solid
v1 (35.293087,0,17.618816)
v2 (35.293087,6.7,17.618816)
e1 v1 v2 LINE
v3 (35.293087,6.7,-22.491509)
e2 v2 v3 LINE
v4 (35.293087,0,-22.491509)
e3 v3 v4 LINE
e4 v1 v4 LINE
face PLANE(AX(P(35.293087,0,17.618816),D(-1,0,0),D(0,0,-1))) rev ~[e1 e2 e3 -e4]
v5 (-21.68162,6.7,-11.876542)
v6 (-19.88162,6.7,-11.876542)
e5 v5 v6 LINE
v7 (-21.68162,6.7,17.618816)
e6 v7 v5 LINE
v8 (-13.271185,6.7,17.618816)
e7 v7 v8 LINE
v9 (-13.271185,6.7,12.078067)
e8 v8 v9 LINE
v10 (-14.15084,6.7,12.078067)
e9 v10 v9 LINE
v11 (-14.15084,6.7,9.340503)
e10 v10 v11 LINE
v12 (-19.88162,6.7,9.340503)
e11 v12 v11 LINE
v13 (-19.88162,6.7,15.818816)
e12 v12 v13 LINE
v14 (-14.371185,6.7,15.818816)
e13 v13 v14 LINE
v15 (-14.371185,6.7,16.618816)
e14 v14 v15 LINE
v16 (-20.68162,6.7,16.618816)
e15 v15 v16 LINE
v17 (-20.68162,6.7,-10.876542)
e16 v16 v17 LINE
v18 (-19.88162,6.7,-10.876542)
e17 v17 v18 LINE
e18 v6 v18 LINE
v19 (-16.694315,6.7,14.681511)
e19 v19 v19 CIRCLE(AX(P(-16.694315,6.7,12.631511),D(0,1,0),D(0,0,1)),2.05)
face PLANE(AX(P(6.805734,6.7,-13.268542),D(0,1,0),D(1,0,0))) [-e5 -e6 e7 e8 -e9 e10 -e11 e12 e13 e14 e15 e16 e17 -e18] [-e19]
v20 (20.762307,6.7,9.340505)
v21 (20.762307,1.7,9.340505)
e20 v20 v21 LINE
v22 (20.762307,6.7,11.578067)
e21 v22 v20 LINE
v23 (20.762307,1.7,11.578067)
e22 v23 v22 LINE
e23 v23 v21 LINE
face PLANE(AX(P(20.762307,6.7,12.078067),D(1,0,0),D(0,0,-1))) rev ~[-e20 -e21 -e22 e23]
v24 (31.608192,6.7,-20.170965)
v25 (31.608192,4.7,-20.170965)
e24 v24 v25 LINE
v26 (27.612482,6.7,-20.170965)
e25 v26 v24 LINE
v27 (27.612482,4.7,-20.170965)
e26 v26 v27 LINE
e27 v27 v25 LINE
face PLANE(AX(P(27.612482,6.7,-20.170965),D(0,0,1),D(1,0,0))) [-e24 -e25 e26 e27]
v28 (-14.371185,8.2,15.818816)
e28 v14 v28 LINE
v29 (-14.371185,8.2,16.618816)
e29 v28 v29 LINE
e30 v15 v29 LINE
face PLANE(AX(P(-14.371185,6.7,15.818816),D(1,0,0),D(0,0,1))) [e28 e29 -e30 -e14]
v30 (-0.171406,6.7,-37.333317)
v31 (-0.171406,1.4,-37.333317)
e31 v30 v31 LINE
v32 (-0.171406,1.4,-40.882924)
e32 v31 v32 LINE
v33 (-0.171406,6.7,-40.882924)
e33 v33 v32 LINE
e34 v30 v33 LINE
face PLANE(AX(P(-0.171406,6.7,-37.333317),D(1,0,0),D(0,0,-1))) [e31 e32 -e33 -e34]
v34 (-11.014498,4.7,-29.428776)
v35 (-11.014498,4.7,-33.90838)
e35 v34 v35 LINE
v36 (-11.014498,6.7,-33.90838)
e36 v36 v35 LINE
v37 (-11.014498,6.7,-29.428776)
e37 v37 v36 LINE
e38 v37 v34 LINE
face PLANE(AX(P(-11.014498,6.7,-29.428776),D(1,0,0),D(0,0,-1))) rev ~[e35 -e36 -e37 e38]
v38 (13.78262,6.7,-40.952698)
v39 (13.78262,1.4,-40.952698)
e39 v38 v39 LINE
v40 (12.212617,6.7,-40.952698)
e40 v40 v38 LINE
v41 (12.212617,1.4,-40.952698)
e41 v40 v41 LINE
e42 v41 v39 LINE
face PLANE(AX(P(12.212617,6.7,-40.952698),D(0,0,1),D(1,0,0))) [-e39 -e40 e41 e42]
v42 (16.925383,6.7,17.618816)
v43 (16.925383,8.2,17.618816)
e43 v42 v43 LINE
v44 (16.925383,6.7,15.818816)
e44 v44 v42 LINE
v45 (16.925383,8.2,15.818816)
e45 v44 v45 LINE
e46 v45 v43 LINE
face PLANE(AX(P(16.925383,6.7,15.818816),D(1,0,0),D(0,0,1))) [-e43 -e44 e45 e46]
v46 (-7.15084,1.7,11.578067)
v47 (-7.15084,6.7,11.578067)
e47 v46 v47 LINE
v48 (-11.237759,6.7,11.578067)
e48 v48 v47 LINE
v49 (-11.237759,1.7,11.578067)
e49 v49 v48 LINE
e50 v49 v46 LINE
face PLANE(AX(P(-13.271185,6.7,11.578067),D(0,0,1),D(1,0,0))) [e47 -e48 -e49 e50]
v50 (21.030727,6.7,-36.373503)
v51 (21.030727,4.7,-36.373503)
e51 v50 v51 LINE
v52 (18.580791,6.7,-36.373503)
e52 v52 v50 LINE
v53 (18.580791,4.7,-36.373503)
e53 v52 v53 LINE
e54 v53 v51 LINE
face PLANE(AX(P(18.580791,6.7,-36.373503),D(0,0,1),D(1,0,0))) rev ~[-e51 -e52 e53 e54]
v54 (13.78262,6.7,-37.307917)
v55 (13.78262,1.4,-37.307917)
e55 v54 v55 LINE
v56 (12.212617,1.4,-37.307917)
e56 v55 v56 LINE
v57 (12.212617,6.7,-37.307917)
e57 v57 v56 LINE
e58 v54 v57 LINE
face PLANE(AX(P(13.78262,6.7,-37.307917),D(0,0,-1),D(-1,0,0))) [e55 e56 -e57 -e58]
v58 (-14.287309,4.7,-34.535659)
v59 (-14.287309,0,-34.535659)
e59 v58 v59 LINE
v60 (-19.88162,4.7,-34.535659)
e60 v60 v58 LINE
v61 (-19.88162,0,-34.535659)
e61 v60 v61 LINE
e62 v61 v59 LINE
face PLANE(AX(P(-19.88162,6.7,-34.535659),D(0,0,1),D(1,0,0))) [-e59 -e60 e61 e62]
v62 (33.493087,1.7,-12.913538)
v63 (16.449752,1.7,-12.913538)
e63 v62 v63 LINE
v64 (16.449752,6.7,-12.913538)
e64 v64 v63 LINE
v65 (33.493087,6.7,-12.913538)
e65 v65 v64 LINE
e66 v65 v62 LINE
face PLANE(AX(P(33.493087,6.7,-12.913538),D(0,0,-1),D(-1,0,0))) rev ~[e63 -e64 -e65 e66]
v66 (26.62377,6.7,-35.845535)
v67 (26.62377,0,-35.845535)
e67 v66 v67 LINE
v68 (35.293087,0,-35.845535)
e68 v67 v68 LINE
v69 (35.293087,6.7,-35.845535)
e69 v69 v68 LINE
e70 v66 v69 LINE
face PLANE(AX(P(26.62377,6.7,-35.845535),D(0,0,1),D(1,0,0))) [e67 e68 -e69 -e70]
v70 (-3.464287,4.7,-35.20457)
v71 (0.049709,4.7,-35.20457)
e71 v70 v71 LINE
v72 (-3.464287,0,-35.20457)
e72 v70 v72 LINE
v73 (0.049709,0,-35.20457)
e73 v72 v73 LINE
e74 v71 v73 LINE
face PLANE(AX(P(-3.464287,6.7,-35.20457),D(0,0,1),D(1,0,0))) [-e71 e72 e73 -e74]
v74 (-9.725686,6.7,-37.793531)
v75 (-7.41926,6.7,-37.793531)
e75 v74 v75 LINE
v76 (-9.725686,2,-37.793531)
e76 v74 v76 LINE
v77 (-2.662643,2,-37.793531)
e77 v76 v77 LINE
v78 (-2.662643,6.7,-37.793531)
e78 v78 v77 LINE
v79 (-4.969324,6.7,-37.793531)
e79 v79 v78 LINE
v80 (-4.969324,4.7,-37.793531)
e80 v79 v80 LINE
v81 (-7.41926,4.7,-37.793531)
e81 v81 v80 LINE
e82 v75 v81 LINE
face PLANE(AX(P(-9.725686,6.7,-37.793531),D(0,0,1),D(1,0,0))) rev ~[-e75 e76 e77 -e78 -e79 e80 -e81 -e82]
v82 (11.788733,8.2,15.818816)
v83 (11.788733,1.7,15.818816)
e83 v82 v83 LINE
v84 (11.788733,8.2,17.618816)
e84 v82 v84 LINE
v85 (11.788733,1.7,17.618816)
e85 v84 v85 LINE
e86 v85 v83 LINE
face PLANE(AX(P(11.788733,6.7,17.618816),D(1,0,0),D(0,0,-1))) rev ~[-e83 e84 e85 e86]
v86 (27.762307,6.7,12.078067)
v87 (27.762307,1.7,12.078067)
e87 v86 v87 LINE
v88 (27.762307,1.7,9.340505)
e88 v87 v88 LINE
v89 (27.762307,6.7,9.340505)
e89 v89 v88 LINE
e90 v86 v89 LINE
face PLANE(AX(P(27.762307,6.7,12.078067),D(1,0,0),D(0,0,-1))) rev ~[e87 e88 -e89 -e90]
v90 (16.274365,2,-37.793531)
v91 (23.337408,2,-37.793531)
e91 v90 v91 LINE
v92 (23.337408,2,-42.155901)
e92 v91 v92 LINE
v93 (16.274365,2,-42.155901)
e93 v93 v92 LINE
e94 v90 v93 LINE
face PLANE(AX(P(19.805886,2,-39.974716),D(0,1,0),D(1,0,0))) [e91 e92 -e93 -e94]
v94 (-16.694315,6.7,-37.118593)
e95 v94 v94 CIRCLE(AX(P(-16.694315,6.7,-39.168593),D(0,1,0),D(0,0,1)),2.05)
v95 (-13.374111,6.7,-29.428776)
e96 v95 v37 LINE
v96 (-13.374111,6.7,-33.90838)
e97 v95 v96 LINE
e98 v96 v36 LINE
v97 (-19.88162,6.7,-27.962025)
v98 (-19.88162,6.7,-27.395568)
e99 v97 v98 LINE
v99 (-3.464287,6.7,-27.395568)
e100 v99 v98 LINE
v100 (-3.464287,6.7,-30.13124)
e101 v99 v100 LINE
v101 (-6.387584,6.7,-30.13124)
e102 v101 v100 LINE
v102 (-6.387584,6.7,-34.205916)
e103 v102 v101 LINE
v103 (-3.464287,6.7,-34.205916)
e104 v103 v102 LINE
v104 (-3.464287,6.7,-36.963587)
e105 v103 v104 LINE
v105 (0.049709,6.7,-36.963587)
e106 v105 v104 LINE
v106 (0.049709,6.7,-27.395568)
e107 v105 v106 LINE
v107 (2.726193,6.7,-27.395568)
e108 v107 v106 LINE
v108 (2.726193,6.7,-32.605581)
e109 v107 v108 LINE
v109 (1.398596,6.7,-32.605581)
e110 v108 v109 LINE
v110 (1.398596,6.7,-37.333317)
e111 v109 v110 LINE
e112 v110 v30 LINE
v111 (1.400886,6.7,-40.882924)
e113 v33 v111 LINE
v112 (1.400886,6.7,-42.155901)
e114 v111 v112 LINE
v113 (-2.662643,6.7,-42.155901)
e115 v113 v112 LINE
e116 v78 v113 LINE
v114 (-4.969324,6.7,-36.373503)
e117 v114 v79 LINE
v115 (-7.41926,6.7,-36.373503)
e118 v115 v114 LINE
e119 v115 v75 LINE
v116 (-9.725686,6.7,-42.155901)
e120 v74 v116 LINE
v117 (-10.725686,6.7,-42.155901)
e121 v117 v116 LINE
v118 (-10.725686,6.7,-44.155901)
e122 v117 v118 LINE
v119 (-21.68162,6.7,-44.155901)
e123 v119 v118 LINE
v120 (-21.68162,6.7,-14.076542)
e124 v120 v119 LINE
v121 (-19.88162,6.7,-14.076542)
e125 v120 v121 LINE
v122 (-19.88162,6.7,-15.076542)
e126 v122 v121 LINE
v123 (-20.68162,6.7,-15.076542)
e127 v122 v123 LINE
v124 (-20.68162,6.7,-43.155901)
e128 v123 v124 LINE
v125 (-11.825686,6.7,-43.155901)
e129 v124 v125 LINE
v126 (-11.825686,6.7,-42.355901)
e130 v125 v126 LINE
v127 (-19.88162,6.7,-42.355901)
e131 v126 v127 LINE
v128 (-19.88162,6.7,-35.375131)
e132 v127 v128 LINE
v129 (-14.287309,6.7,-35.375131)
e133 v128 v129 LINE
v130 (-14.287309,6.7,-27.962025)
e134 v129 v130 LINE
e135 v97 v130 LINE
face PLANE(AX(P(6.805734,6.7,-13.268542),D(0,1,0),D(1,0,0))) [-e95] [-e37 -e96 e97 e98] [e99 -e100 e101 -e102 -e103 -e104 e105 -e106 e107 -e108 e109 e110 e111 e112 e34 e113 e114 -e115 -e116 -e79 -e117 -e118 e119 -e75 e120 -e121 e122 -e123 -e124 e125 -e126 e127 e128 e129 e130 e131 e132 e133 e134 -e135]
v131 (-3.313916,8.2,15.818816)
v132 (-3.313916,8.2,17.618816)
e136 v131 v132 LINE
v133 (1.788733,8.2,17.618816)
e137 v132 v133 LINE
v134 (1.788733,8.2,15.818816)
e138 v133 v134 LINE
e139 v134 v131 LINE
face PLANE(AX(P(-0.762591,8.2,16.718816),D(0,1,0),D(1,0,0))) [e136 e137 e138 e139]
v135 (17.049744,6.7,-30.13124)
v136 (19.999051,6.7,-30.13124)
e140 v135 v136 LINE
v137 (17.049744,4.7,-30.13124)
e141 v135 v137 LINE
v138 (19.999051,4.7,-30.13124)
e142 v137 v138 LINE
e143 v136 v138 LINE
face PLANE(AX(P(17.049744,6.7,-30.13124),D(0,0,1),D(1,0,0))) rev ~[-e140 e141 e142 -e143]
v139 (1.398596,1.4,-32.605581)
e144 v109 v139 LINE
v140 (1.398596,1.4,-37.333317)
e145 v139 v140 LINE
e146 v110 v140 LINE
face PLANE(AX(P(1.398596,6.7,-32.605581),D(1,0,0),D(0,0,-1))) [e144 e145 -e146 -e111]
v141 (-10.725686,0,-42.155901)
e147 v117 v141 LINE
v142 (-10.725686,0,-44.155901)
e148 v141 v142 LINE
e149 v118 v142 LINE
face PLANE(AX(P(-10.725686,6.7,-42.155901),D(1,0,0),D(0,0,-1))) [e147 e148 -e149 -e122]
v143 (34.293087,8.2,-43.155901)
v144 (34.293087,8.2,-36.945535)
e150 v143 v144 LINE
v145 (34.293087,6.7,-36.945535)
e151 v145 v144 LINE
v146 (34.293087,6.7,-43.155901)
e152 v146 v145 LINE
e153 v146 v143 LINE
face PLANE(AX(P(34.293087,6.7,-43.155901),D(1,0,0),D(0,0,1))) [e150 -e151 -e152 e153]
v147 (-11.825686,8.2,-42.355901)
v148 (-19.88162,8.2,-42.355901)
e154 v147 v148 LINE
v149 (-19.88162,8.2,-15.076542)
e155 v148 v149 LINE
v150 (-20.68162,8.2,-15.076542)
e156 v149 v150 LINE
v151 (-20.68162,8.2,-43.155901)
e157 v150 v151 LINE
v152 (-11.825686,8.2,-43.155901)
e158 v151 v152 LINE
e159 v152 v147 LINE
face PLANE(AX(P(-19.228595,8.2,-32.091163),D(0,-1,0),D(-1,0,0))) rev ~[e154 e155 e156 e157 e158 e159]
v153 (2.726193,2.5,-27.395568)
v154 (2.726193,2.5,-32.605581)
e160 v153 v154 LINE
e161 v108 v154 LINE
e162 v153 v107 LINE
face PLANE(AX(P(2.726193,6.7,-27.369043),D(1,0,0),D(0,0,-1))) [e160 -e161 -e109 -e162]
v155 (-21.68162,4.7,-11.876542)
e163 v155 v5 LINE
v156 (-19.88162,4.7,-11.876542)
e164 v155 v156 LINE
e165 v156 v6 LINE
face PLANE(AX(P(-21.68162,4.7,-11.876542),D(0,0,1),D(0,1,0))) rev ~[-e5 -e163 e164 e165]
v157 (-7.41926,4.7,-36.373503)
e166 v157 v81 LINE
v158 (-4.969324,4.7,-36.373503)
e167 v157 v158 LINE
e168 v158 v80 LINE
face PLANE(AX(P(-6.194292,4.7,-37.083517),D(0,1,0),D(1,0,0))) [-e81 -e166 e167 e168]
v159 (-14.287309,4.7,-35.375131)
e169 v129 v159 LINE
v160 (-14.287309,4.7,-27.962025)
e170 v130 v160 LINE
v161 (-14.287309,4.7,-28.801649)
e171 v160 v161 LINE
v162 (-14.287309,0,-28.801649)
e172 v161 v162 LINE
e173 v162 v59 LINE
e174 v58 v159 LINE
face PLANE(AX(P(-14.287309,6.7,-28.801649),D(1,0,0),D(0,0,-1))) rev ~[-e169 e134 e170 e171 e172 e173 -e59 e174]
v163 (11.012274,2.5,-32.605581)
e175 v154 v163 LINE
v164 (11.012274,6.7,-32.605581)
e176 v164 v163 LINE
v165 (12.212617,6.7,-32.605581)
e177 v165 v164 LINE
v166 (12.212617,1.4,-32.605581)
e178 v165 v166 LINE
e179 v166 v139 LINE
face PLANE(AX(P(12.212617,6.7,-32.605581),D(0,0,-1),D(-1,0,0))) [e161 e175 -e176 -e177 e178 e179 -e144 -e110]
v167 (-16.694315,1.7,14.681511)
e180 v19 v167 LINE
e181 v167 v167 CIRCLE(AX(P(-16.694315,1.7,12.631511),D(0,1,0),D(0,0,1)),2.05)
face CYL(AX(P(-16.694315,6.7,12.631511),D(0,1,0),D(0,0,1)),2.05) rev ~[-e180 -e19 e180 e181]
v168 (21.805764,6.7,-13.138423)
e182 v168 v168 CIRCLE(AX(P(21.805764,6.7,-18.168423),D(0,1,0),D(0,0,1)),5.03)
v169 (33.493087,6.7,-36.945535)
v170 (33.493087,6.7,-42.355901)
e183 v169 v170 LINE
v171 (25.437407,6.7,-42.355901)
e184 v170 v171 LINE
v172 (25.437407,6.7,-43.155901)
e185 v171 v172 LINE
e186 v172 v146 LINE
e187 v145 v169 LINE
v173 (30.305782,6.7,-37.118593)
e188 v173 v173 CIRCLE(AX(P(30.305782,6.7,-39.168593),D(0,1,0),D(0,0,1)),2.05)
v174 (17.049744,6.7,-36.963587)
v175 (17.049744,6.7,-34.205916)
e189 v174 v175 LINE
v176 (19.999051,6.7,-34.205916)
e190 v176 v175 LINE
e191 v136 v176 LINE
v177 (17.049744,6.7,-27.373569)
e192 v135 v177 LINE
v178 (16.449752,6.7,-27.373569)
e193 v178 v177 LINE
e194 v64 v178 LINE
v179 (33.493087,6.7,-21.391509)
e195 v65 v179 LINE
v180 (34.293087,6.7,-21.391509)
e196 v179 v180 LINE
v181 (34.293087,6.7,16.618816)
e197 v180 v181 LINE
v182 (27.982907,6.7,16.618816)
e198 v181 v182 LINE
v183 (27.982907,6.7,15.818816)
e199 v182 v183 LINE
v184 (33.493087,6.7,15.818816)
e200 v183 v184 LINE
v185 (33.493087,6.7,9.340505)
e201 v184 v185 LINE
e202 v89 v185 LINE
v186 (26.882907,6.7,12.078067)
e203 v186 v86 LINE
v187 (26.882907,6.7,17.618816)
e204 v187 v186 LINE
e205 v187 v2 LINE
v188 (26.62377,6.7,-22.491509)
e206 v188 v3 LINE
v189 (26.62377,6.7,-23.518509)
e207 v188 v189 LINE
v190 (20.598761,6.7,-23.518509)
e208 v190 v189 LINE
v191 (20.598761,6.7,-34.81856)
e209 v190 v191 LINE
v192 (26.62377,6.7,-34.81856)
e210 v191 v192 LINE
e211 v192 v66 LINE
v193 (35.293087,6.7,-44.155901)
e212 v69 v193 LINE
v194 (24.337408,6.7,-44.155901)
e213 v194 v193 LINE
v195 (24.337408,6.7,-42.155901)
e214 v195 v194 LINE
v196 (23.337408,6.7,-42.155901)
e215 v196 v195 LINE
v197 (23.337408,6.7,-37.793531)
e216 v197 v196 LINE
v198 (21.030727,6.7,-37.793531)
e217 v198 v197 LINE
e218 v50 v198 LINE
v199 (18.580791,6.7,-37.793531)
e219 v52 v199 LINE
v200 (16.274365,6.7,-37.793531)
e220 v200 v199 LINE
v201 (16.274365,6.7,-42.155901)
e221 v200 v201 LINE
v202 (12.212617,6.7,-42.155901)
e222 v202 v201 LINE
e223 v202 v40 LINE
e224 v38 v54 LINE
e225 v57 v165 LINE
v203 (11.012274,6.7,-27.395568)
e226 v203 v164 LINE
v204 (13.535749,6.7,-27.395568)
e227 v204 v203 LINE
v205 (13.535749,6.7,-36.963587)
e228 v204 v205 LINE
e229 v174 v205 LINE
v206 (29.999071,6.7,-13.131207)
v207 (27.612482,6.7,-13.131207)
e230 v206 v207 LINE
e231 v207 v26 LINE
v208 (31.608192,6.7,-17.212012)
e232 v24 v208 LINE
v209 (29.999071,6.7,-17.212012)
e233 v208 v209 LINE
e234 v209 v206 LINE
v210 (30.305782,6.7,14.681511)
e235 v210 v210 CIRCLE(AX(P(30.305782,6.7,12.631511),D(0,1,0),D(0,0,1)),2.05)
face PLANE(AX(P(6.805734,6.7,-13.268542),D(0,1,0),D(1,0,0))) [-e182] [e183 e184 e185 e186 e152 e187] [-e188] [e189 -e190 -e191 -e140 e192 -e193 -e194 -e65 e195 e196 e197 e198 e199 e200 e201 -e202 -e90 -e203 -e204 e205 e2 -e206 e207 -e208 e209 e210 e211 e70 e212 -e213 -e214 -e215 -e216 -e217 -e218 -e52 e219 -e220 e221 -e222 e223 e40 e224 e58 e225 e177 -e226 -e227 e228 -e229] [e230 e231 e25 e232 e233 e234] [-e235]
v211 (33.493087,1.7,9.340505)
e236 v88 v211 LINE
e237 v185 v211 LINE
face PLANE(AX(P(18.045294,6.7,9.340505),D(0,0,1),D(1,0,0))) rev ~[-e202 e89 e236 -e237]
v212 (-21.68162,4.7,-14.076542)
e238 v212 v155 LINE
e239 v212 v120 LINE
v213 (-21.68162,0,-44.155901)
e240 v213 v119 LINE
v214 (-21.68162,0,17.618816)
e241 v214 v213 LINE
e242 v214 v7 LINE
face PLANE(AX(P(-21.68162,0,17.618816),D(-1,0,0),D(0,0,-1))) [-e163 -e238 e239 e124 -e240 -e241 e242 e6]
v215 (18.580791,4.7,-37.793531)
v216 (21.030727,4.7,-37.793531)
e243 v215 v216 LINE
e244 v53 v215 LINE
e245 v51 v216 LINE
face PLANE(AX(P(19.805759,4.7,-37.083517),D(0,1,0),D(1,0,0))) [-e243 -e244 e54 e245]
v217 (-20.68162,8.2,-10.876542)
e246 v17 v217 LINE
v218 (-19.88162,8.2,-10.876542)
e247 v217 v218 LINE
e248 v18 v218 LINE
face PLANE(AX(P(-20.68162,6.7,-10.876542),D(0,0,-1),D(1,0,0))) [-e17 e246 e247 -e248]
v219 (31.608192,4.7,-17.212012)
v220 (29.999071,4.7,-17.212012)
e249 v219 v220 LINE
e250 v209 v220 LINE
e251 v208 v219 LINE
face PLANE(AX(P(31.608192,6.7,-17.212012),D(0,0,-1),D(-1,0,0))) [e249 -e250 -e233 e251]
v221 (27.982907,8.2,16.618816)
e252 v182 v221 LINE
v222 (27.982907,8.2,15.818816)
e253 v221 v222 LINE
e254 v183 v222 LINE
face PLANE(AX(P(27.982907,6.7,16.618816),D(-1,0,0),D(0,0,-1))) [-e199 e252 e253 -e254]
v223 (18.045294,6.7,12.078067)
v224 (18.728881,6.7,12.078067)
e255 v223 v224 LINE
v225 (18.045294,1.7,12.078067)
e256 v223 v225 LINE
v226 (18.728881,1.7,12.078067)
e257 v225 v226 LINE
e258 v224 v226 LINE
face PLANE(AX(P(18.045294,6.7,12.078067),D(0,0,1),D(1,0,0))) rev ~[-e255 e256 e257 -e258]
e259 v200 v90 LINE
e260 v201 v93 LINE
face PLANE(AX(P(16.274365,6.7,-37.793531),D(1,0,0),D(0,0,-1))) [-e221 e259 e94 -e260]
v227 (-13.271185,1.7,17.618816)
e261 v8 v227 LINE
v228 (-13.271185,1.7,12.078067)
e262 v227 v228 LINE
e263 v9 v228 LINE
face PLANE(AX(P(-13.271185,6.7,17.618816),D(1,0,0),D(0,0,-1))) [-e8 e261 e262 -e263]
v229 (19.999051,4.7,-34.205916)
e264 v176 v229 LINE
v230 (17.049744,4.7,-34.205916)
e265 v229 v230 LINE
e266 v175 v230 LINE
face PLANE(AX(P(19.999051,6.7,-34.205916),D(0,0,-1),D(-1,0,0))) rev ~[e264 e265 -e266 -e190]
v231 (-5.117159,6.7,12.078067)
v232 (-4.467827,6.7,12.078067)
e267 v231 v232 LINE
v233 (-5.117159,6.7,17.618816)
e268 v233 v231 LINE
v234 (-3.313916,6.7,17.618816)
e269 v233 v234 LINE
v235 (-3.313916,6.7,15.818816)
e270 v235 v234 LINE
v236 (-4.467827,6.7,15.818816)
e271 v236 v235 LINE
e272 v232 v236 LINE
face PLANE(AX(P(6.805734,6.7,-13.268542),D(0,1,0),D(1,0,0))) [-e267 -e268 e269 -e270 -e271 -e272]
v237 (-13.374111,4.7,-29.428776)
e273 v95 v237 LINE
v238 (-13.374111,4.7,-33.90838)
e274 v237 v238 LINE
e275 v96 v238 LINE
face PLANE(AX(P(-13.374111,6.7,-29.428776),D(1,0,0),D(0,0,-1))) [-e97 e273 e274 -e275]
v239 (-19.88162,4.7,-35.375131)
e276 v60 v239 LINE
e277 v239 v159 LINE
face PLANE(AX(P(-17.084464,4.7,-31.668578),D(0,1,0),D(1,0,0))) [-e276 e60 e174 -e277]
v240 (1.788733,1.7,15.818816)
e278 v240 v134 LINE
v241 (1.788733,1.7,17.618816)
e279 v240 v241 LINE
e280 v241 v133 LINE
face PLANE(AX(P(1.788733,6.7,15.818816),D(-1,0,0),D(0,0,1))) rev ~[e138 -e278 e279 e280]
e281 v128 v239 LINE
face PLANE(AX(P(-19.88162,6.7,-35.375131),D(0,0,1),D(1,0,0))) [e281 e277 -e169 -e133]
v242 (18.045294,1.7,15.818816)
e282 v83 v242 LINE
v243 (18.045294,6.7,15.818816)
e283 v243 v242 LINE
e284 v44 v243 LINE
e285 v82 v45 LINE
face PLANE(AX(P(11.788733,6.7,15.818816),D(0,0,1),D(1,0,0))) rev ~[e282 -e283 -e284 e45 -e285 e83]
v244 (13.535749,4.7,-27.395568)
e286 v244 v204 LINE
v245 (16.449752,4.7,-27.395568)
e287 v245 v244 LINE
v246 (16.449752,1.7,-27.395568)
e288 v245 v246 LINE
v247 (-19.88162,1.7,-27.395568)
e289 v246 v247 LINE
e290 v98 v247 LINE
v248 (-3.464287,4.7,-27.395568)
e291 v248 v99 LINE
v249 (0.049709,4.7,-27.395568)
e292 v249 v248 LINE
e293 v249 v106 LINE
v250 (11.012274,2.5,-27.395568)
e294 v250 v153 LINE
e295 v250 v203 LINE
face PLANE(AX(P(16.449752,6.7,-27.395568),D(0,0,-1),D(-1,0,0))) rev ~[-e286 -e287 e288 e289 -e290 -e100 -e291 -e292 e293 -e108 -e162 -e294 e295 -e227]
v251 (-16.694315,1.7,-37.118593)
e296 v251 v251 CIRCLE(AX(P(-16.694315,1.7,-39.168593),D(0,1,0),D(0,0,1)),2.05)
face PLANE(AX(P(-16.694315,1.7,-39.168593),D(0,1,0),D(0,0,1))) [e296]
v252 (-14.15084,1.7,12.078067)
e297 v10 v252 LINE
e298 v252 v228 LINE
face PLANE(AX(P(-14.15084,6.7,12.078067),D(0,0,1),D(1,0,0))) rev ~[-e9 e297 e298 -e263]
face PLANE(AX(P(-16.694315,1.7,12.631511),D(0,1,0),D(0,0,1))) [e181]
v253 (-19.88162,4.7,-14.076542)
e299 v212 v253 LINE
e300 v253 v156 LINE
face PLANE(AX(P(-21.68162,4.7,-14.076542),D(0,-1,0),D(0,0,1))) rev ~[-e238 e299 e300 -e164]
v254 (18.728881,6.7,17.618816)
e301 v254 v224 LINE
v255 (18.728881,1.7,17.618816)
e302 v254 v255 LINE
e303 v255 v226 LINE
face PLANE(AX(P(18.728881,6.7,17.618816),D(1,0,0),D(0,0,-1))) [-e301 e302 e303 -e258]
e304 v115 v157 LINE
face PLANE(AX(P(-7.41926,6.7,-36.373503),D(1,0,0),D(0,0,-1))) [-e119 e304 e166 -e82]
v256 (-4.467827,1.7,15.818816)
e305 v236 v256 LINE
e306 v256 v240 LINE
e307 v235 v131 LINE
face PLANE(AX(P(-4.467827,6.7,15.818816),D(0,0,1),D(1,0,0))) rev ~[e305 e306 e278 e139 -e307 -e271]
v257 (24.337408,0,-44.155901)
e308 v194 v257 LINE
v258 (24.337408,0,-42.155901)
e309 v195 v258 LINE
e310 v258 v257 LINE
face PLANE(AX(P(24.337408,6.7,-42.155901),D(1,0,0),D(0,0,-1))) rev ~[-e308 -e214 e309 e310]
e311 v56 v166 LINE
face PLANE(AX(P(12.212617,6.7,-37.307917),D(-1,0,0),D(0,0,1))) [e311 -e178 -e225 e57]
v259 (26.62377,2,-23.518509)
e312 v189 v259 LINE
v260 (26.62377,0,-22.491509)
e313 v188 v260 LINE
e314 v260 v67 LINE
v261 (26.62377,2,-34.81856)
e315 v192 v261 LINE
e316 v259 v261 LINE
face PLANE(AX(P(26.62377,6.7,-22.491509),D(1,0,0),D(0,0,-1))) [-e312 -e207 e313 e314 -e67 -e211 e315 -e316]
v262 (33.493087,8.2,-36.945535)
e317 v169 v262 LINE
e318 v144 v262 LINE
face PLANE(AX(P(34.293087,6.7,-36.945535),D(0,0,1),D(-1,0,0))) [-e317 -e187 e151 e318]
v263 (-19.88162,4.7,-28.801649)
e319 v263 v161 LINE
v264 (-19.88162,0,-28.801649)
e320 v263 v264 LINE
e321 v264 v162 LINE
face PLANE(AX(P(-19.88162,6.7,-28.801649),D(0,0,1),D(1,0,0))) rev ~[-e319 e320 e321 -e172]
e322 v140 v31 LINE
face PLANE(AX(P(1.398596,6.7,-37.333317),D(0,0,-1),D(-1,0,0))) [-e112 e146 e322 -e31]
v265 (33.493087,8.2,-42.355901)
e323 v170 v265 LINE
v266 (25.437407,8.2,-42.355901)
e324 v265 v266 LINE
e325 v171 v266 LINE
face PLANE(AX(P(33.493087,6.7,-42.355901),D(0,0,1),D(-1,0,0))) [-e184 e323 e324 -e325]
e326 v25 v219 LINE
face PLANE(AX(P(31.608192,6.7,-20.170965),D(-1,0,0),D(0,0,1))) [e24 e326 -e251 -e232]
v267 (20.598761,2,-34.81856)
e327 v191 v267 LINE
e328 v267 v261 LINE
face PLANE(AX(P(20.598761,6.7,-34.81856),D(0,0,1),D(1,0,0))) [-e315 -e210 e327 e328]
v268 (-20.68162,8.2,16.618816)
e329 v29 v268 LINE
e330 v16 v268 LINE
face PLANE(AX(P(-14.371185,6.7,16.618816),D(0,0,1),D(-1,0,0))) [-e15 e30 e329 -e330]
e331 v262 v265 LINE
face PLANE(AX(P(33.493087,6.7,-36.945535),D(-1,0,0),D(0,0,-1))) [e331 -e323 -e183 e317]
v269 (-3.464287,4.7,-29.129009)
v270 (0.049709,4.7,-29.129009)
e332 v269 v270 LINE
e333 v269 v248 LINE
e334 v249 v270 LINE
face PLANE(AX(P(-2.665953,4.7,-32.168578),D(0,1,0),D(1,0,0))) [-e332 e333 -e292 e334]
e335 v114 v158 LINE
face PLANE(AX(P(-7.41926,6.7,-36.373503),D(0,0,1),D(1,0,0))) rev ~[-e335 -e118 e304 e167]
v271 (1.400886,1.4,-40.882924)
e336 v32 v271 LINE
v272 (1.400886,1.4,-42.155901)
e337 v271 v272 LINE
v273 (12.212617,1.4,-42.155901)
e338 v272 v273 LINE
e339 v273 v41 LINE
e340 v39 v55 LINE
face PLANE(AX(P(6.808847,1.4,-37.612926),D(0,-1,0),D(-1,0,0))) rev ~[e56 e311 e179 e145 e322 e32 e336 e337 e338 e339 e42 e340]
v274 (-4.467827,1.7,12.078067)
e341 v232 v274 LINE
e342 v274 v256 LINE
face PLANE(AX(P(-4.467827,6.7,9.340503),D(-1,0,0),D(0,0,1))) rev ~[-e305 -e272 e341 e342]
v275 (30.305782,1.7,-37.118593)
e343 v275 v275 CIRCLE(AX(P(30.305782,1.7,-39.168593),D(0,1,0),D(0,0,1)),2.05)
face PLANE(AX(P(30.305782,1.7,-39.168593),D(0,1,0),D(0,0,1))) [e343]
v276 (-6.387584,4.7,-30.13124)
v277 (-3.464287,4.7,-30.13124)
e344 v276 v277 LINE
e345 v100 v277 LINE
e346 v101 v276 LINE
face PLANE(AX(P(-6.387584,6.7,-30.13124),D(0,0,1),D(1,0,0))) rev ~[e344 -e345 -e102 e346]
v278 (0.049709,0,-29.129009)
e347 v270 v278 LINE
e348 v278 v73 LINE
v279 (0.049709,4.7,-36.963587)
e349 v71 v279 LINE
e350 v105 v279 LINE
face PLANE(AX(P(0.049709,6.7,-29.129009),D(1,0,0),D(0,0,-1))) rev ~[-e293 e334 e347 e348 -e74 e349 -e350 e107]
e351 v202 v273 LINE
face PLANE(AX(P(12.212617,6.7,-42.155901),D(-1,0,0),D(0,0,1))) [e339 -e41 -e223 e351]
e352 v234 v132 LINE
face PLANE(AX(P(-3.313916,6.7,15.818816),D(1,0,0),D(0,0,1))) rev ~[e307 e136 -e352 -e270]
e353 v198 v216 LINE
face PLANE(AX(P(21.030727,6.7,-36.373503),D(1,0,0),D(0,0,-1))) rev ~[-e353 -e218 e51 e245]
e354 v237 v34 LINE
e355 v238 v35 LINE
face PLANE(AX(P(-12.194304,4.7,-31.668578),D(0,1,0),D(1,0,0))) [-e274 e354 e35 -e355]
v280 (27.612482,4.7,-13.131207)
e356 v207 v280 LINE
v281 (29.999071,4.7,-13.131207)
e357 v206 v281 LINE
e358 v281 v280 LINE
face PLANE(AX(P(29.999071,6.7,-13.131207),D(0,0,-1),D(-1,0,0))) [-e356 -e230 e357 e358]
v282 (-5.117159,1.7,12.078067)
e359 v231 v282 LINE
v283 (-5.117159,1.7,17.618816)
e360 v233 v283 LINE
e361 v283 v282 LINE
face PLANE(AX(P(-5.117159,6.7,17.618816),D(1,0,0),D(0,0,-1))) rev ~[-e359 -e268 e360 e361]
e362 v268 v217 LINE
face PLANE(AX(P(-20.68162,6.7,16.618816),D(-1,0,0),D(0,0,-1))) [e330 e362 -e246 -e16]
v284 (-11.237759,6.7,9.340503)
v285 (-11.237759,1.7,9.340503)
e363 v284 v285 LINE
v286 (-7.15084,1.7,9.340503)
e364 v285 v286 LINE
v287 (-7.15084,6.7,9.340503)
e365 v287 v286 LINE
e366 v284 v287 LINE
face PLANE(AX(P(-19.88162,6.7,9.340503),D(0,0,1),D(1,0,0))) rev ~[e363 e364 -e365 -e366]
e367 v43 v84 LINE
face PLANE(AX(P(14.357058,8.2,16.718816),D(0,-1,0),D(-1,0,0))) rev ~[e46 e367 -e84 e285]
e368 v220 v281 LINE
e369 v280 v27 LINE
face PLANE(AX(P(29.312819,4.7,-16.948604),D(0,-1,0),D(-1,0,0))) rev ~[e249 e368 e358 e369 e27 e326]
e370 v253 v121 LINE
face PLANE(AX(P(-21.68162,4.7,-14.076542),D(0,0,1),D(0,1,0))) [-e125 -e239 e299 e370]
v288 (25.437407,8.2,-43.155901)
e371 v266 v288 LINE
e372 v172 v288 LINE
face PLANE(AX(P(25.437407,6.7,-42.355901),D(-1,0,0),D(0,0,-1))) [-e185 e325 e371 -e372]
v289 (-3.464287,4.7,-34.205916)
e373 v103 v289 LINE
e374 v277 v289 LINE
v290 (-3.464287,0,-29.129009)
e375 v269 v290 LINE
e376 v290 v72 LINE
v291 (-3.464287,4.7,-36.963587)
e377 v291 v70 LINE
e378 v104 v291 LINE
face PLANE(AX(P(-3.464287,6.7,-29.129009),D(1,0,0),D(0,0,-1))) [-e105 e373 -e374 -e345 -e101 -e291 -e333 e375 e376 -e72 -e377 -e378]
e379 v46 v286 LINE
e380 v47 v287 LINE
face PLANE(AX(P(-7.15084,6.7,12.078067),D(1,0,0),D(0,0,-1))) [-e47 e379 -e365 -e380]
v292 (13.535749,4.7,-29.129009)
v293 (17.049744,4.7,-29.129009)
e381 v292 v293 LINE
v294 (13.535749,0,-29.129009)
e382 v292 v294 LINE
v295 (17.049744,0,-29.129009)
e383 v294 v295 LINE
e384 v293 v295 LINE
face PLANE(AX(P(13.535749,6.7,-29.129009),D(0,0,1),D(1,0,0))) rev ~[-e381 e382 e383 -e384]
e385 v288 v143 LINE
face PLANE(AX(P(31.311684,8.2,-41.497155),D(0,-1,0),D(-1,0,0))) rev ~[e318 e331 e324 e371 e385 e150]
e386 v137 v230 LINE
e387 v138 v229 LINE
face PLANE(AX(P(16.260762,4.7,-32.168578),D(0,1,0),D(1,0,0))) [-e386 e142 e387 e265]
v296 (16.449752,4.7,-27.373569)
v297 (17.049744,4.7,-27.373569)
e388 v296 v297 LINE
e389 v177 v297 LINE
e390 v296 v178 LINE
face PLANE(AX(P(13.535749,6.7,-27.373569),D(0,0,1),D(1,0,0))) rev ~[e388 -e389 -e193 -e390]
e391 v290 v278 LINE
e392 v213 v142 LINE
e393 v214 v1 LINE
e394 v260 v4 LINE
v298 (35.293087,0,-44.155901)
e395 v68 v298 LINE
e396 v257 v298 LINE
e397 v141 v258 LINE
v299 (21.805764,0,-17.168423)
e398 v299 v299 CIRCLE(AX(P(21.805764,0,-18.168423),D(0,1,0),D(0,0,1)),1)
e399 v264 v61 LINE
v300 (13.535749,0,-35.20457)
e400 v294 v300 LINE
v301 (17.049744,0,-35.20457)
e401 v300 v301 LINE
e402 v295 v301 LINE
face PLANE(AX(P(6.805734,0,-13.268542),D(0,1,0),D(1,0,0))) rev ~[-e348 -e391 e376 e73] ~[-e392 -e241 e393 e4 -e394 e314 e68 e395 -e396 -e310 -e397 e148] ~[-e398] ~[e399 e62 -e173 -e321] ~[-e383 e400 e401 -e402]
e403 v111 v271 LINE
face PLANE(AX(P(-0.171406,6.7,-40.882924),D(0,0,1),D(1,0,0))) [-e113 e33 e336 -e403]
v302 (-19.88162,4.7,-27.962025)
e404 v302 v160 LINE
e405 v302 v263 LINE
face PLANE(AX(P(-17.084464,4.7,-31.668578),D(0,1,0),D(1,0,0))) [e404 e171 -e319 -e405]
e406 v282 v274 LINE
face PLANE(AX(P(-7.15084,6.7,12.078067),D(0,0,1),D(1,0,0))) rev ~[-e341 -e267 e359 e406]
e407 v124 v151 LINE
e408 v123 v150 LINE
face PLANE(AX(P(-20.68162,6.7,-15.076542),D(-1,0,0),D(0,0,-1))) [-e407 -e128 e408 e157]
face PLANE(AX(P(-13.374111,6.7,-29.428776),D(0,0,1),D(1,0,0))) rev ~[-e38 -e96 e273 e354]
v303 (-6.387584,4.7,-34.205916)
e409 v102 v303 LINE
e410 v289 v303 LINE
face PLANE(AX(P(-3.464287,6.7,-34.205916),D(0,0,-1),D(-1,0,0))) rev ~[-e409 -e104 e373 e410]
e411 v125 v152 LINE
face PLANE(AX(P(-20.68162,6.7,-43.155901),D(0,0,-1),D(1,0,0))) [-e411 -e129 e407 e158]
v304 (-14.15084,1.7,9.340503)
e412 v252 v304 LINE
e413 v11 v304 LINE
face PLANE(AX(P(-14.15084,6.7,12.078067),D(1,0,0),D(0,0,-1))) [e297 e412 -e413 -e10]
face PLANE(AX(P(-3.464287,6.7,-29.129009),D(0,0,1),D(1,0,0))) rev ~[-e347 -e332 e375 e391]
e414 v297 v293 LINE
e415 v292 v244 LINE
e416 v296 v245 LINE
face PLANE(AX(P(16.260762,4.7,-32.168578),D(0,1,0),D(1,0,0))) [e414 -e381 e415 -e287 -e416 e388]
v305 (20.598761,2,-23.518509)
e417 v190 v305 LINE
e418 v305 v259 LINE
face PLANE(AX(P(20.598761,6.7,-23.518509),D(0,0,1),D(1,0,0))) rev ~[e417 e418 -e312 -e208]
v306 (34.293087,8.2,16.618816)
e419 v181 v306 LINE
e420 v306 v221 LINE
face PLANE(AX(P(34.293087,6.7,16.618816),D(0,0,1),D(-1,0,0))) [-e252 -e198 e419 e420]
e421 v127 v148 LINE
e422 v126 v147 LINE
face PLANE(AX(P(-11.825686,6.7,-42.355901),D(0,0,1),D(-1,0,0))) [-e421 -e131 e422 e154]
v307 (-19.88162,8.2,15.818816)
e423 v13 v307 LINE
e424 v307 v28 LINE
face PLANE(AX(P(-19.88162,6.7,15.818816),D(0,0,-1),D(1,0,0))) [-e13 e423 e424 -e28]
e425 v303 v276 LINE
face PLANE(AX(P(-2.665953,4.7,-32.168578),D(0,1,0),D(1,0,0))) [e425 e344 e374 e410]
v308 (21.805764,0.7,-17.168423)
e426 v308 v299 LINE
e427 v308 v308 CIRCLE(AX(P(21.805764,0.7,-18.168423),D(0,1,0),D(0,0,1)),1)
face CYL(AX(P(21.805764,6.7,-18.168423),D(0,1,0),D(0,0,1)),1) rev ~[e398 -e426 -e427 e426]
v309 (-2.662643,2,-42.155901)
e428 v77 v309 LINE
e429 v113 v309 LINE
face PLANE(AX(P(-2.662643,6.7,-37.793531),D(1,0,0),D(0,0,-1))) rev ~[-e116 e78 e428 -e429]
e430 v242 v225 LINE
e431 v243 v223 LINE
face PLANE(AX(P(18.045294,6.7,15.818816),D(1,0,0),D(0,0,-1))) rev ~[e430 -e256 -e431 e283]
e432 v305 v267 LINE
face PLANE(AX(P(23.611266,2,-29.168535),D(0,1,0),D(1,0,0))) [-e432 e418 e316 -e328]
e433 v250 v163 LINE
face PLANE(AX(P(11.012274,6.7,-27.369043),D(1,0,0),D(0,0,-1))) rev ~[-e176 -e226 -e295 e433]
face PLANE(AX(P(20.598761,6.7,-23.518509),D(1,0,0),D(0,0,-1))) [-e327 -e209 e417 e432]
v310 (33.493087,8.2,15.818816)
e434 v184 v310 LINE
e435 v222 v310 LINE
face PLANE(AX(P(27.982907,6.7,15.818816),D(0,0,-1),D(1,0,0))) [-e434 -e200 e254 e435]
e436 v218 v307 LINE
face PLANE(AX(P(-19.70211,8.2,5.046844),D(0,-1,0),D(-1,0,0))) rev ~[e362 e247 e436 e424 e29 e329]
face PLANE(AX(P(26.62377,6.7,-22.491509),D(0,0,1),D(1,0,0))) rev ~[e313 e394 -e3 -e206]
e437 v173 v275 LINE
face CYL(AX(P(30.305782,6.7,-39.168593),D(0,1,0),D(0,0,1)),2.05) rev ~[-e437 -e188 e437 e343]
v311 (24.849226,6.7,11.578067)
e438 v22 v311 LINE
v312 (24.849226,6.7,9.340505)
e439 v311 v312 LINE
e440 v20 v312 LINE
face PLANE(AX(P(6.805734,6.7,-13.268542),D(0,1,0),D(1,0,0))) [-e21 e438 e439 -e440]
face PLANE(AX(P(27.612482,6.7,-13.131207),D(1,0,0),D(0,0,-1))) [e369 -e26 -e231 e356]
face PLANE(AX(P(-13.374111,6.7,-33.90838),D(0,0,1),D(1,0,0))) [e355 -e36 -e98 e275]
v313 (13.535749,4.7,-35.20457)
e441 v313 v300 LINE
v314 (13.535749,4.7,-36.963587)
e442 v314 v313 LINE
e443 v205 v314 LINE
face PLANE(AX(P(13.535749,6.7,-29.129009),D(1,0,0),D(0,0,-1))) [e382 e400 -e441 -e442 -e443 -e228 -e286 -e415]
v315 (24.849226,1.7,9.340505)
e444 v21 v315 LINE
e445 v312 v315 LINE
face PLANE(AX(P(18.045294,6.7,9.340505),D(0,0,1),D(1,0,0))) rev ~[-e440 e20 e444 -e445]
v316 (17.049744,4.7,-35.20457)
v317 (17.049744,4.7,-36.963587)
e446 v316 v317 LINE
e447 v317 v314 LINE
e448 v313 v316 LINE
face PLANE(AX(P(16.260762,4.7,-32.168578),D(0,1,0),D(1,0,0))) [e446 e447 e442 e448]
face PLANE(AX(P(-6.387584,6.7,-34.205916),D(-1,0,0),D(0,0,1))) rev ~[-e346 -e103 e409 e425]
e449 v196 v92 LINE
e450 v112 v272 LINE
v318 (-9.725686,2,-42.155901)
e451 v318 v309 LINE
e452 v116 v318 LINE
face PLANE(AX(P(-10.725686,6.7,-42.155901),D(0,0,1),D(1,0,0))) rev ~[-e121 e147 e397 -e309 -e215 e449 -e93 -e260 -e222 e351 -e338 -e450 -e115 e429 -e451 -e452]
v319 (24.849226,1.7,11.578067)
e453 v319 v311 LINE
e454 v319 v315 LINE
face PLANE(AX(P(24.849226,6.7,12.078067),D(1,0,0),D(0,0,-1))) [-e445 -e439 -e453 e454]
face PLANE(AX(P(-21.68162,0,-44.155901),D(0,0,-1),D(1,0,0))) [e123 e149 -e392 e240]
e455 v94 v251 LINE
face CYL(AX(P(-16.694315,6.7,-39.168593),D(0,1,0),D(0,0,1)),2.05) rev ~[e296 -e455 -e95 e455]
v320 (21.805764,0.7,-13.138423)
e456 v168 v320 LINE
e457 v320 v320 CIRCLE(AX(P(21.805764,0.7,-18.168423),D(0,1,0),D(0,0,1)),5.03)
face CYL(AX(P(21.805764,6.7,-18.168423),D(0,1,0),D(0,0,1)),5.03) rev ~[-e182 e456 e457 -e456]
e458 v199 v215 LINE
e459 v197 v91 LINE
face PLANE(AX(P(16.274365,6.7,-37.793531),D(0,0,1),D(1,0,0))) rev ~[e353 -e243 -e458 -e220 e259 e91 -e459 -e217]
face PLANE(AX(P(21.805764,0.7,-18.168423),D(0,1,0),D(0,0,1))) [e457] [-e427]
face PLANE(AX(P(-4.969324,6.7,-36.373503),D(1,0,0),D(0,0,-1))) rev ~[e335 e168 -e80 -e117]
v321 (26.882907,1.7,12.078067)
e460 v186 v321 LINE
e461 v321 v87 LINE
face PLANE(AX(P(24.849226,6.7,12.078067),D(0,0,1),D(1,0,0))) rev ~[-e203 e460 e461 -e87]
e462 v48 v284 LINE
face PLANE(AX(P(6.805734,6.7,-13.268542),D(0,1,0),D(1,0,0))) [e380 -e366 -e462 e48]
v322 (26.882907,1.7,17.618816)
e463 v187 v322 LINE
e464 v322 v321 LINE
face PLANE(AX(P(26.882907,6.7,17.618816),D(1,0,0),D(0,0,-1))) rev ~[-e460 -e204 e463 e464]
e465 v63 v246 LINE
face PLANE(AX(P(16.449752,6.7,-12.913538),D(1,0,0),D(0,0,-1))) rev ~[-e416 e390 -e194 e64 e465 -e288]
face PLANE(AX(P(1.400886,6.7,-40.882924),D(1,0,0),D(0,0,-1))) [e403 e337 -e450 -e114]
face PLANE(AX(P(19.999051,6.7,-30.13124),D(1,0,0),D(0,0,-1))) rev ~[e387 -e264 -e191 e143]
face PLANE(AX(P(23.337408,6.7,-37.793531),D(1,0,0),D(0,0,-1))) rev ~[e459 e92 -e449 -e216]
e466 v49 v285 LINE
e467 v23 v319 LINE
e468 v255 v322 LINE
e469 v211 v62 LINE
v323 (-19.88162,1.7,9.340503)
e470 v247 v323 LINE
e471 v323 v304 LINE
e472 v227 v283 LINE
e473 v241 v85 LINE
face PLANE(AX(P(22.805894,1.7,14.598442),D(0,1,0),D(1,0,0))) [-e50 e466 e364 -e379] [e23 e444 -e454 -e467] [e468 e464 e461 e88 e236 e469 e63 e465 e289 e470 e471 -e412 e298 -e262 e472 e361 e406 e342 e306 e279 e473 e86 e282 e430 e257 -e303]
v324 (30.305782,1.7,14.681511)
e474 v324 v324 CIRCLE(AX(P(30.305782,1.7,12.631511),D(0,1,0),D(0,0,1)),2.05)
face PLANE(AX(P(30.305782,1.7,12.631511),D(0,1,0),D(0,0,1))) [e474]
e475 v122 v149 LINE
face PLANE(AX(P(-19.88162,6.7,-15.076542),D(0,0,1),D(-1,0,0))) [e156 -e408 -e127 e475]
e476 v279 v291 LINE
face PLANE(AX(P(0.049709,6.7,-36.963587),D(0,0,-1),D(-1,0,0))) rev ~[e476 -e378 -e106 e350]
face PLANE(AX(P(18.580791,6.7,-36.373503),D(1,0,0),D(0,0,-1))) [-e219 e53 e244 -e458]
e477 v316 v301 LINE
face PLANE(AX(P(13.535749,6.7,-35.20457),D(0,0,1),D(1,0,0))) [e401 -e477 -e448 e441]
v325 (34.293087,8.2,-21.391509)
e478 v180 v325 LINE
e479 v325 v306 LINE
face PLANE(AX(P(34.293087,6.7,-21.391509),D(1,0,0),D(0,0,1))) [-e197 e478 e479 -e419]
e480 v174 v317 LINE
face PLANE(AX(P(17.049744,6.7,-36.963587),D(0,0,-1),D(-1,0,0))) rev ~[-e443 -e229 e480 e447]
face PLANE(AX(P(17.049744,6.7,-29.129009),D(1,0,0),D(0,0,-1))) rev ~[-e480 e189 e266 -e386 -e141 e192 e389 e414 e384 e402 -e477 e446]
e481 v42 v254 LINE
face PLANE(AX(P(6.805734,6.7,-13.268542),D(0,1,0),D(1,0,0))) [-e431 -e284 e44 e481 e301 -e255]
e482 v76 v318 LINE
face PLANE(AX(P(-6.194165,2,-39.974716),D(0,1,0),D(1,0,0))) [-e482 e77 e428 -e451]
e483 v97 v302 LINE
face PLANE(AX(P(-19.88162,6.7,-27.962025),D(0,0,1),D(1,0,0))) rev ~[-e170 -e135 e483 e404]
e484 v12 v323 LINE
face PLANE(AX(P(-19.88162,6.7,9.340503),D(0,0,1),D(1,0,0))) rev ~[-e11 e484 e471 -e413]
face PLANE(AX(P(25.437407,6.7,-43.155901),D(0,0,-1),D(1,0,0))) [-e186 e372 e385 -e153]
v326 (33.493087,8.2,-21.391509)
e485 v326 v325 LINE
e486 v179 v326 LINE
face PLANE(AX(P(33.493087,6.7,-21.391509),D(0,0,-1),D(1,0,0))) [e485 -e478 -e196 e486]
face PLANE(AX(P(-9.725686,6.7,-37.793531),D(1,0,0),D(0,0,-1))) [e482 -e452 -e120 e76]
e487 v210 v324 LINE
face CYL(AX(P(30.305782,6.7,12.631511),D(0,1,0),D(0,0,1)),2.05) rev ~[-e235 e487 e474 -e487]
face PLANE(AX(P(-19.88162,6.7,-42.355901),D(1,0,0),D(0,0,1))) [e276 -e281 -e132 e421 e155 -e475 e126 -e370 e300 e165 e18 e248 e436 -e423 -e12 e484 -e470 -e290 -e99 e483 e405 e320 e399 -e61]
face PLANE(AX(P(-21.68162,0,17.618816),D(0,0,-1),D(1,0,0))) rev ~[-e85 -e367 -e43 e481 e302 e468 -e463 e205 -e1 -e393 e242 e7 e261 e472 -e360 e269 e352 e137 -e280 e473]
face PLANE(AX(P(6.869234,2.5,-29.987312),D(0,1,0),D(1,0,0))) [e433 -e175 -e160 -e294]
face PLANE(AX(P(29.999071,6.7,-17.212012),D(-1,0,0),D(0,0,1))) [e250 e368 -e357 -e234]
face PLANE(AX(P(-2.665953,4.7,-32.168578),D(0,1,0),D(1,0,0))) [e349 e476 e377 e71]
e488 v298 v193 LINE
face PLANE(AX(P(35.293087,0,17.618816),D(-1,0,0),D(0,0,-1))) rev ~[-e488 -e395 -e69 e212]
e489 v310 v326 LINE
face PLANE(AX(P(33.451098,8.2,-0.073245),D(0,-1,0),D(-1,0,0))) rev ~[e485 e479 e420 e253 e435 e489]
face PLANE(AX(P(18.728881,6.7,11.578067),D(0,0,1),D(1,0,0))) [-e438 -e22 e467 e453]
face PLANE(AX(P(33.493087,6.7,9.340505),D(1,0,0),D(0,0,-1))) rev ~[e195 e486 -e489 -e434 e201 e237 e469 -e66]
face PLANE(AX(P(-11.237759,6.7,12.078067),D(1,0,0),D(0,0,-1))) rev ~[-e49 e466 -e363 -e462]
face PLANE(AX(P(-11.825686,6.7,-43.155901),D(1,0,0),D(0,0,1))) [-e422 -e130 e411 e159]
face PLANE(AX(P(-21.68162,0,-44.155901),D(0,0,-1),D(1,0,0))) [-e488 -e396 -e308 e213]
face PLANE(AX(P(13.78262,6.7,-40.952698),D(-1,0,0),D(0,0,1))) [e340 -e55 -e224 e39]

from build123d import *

# Parameters (mm, degrees)
SKETCH_1_W           = 56.974706629
SKETCH_1_H           = 61.774716789
EXTRUDE_1_DEPTH      = 6.7
SKETCH_2_W           = 8.669316727
SKETCH_2_H           = 13.354025908
CUT_EXTRUDE_1_DEPTH  = 57.923066884
SKETCH_3_W           = 6.025008901
SKETCH_3_H           = 11.3000508
CUT_EXTRUDE_2_DEPTH  = 4.7
SKETCH_4_R           = 5.03
CUT_EXTRUDE_3_DEPTH  = 6
SKETCH_5_R           = 1
CUT_EXTRUDE_4_DEPTH  = 57.923066884
CUT_EXTRUDE_5_DEPTH  = 2
CUT_EXTRUDE_6_DEPTH  = 2
SKETCH_8_W           = 3.513995428
SKETCH_8_H           = 6.075560276
CUT_EXTRUDE_7_DEPTH  = 57.923066884
SKETCH_9_W           = 7.063042926
SKETCH_9_H           = 4.362369824
CUT_EXTRUDE_8_DEPTH  = 4.7
SKETCH_10_W          = 2.4499365
SKETCH_10_H          = 1.42002794
CUT_EXTRUDE_9_DEPTH  = 2
SKETCH_11_W          = 35.063093726
SKETCH_11_H          = 2
CUT_EXTRUDE_10_DEPTH = 57.923066884
CUT_EXTRUDE_11_DEPTH = 5.3
SKETCH_13_W          = 8.286080772
SKETCH_13_H          = 5.236537973
CUT_EXTRUDE_12_DEPTH = 4.2
SKETCH_14_W          = 2.359613919
SKETCH_14_H          = 4.479603759
SKETCH_14_W_2        = 5.594310389
SKETCH_14_H_2        = 7.413106427
CUT_EXTRUDE_13_DEPTH = 2
SKETCH_15_W          = 5.594310389
SKETCH_15_H          = 5.734010668
CUT_EXTRUDE_14_DEPTH = 57.923066884
CUT_EXTRUDE_15_DEPTH = 5
SKETCH_18_W          = 8.154025908
SKETCH_18_H          = 6.040749301
CUT_EXTRUDE_16_DEPTH = 5
SKETCH_19_W          = 2.683012447
SKETCH_19_H          = 2.737564136
SKETCH_19_W_2        = 2.913081027
SKETCH_19_W_3        = 2.717012954
SKETCH_19_H_2        = 2.737561596
SKETCH_19_W_4        = 2.913081026
CUT_EXTRUDE_17_DEPTH = 5
EXTRUDE_4_DEPTH      = 1.5
SKETCH_25_R          = 2.05
CUT_EXTRUDE_18_DEPTH = 5
CUT_EXTRUDE_19_REACH = 74.547
SKETCH_26_W          = 2.2
SKETCH_26_H          = 2


with BuildPart() as part:
    # 草图1 → 凸台-拉伸1 (new body)
    with BuildSketch(Plane(origin=(0, 0, 0), x_dir=(1, 0, 0), z_dir=(0, 1, 0))):
        with Locations((6.805733636, 13.268542196)):
            Rectangle(SKETCH_1_W, SKETCH_1_H)
    extrude(amount=EXTRUDE_1_DEPTH)

    # 草图2 → 切除-拉伸1 (cut, through all)
    with BuildSketch(Plane(origin=(0, 6.7, 0), x_dir=(1, 0, 0), z_dir=(0, 1, 0))):
        with Locations((30.958428588, 29.168521876)):
            Rectangle(SKETCH_2_W, SKETCH_2_H)
    extrude(amount=-CUT_EXTRUDE_1_DEPTH, mode=Mode.SUBTRACT)

    # 草图3 → 切除-拉伸2 (cut)
    with BuildSketch(Plane(origin=(0, 6.7, 0), x_dir=(1, 0, 0), z_dir=(0, 1, 0))):
        with Locations((23.611265774, 29.168534576)):
            Rectangle(SKETCH_3_W, SKETCH_3_H)
    extrude(amount=-CUT_EXTRUDE_2_DEPTH, mode=Mode.SUBTRACT)

    # 草图4 → 切除-拉伸3 (cut)
    with BuildSketch(Plane(origin=(0, 6.7, 0), x_dir=(1, 0, 0), z_dir=(0, 1, 0))):
        with Locations(Location((21.805764117, 18.168422815, 0), (0, 0, 270))):
            Circle(SKETCH_4_R)
    extrude(amount=-CUT_EXTRUDE_3_DEPTH, mode=Mode.SUBTRACT)

    # 草图5 → 切除-拉伸4 (cut, through all)
    with BuildSketch(Plane(origin=(0, 6.7, 0), x_dir=(1, 0, 0), z_dir=(0, 1, 0))):
        with Locations(Location((21.805764117, 18.168422815, 0), (0, 0, 270))):
            Circle(SKETCH_5_R)
    extrude(amount=-CUT_EXTRUDE_4_DEPTH, mode=Mode.SUBTRACT)

    # 草图6 → 切除-拉伸5 (cut)
    with BuildSketch(Plane(origin=(0, 6.7, 0), x_dir=(1, 0, 0), z_dir=(0, 1, 0))):
        Polygon((29.999071203, 13.131206661), (27.61248243, 13.131206661), (27.61248243, 20.17096536), (31.608192362, 20.17096536), (31.608192362, 17.212011843), (29.999071203, 17.212011843), align=None)
    extrude(amount=-CUT_EXTRUDE_5_DEPTH, mode=Mode.SUBTRACT)

    # 草图7 → 切除-拉伸6 (cut)
    with BuildSketch(Plane(origin=(0, 6.7, 0), x_dir=(1, 0, 0), z_dir=(0, 1, 0))):
        Polygon((13.535748877, 27.373568866), (17.049744305, 27.373568866), (17.049744305, 30.131239681), (19.999050883, 30.131239681), (19.999050883, 34.20591583), (17.049744305, 34.20591583), (17.049744305, 36.963586646), (13.535748877, 36.963586646), align=None)
        Polygon((0.049708745, 27.373568866), (0.049708745, 36.963586646), (-3.464286683, 36.963586646), (-3.464286683, 34.20591583), (-6.38758361, 34.20591583), (-6.38758361, 30.131239681), (-3.464286683, 30.131239681), (-3.464286683, 27.373568866), align=None)
    extrude(amount=-CUT_EXTRUDE_6_DEPTH, mode=Mode.SUBTRACT)

    # 草图8 → 切除-拉伸7 (cut, through all)
    with BuildSketch(Plane(origin=(0, 6.7, 0), x_dir=(1, 0, 0), z_dir=(0, 1, 0))):
        with Locations((15.292746591, 32.16678949)):
            Rectangle(SKETCH_8_W, SKETCH_8_H)
        with Locations((-1.707288969, 32.16678949)):
            Rectangle(SKETCH_8_W, SKETCH_8_H)
    extrude(amount=-CUT_EXTRUDE_7_DEPTH, mode=Mode.SUBTRACT)

    # 草图9 → 切除-拉伸8 (cut)
    with BuildSketch(Plane(origin=(0, 6.7, 0), x_dir=(1, 0, 0), z_dir=(0, 1, 0))):
        with Locations((19.805886037, 39.974715678)):
            Rectangle(SKETCH_9_W, SKETCH_9_H)
        with Locations((-6.194164763, 39.974715678)):
            Rectangle(SKETCH_9_W, SKETCH_9_H)
    extrude(amount=-CUT_EXTRUDE_8_DEPTH, mode=Mode.SUBTRACT)

    # 草图10 → 切除-拉伸9 (cut)
    with BuildSketch(Plane(origin=(0, 6.7, 0), x_dir=(1, 0, 0), z_dir=(0, 1, 0))):
        with Locations((19.805759037, 37.083516796)):
            Rectangle(SKETCH_10_W, SKETCH_10_H)
        with Locations((-6.194291763, 37.083516796)):
            Rectangle(SKETCH_10_W, SKETCH_10_H)
    extrude(amount=-CUT_EXTRUDE_9_DEPTH, mode=Mode.SUBTRACT)

    # 草图11 → 切除-拉伸10 (cut, through all)
    with BuildSketch(Plane(origin=(0, 6.7, 0), x_dir=(1, 0, 0), z_dir=(0, 1, 0))):
        with Locations((6.805860637, 43.15590059)):
            Rectangle(SKETCH_11_W, SKETCH_11_H)
    extrude(amount=-CUT_EXTRUDE_10_DEPTH, mode=Mode.SUBTRACT)

    # 草图12 → 切除-拉伸11 (cut)
    with BuildSketch(Plane(origin=(0, 6.7, 0), x_dir=(1, 0, 0), z_dir=(0, 1, 0))):
        Polygon((12.21261705, 42.15590059), (12.21261705, 40.952697644), (13.78261959, 40.952697644), (13.78261959, 37.307917354), (12.21261705, 37.307917354), (12.21261705, 32.60558055), (1.398596223, 32.60558055), (1.398596223, 37.333317405), (-0.171406318, 37.333317405), (-0.171406318, 40.882923704), (1.400885865, 40.882923704), (1.400885865, 42.15590059), align=None)
    extrude(amount=-CUT_EXTRUDE_11_DEPTH, mode=Mode.SUBTRACT)

    # 草图13 → 切除-拉伸12 (cut)
    with BuildSketch(Plane(origin=(0, 6.7, 0), x_dir=(1, 0, 0), z_dir=(0, 1, 0))):
        with Locations((6.869233764, 29.987311564)):
            Rectangle(SKETCH_13_W, SKETCH_13_H)
    extrude(amount=-CUT_EXTRUDE_12_DEPTH, mode=Mode.SUBTRACT)

    # 草图14 → 切除-拉伸13 (cut)
    with BuildSketch(Plane(origin=(0, 6.7, 0), x_dir=(1, 0, 0), z_dir=(0, 1, 0))):
        with Locations((-12.194304463, 31.668577756)):
            Rectangle(SKETCH_14_W, SKETCH_14_H)
        with Locations((-17.084464483, 31.668577756)):
            Rectangle(SKETCH_14_W_2, SKETCH_14_H_2)
    extrude(amount=-CUT_EXTRUDE_13_DEPTH, mode=Mode.SUBTRACT)

    # 草图15 → 切除-拉伸14 (cut, through all)
    with BuildSketch(Plane(origin=(0, 6.7, 0), x_dir=(1, 0, 0), z_dir=(0, 1, 0))):
        with Locations((-17.084464483, 31.668653956)):
            Rectangle(SKETCH_15_W, SKETCH_15_H)
    extrude(amount=-CUT_EXTRUDE_14_DEPTH, mode=Mode.SUBTRACT)

    # 草图16 → 切除-拉伸15 (cut)
    with BuildSketch(Plane(origin=(0, 6.7, 0), x_dir=(1, 0, 0), z_dir=(0, 1, 0))):
        Polygon((16.449751925, 27.39556785), (-19.881619678, 27.39556785), (-19.881619678, -9.340502762), (-4.46782745, -9.340502762), (-4.46782745, -15.818816199), (1.788733383, -15.818816199), (1.788733383, -17.618816199), (11.788733383, -17.618816199), (11.788733383, -15.818816199), (18.045294216, -15.818816199), (18.045294216, -9.340505302), (33.493086951, -9.340505302), (33.493086951, 12.913538386), (16.449751925, 12.913538386), align=None)
    extrude(amount=-CUT_EXTRUDE_15_DEPTH, mode=Mode.SUBTRACT)

    # 草图18 → 切除-拉伸16 (cut)
    with BuildSketch(Plane(origin=(0, 6.7, 0), x_dir=(1, 0, 0), z_dir=(0, 1, 0))):
        with Locations((-9.194172383, -14.598441549)):
            Rectangle(SKETCH_18_W, SKETCH_18_H)
        with Locations((22.805893657, -14.598441549)):
            Rectangle(SKETCH_18_W, SKETCH_18_H)
    extrude(amount=-CUT_EXTRUDE_16_DEPTH, mode=Mode.SUBTRACT)

    # 草图19 → 切除-拉伸17 (cut)
    with BuildSketch(Plane(origin=(0, 6.7, 0), x_dir=(1, 0, 0), z_dir=(0, 1, 0))):
        with Locations((-5.809333674, -10.70928483)):
            Rectangle(SKETCH_19_W, SKETCH_19_H)
        with Locations((-12.694299384, -10.70928483)):
            Rectangle(SKETCH_19_W_2, SKETCH_19_H)
        with Locations((19.403800693, -10.7092861)):
            Rectangle(SKETCH_19_W_3, SKETCH_19_H_2)
        with Locations((26.305766657, -10.7092861)):
            Rectangle(SKETCH_19_W_4, SKETCH_19_H_2)
    extrude(amount=-CUT_EXTRUDE_17_DEPTH, mode=Mode.SUBTRACT)

    # 草图24 → 凸台-拉伸4 (add)
    with BuildSketch(Plane(origin=(0, 6.7, 0), x_dir=(1, 0, 0), z_dir=(0, 1, 0))):
        Polygon((-11.825686226, 42.35590059), (-19.881619678, 42.35590059), (-19.881619678, 15.076541942), (-20.681619678, 15.076541942), (-20.681619678, 43.15590059), (-11.825686226, 43.15590059), align=None)
        Polygon((-19.881619678, -15.818816199), (-14.371185337, -15.818816199), (-14.371185337, -16.618816199), (-20.681619678, -16.618816199), (-20.681619678, 10.876541942), (-19.881619678, 10.876541942), align=None)
        Polygon((33.493086951, -15.818816199), (33.493086951, 21.391508922), (34.293086951, 21.391508922), (34.293086951, -16.618816199), (27.982906611, -16.618816199), (27.982906611, -15.818816199), align=None)
        Polygon((33.493086951, 36.94553483), (33.493086951, 42.35590059), (25.4374075, 42.35590059), (25.4374075, 43.15590059), (34.293086951, 43.15590059), (34.293086951, 36.94553483), align=None)
        Polygon((1.788733383, -16.618816199), (1.788733383, -15.818816199), (-3.313915843, -15.818816199), (-3.313915843, -17.618816199), (1.788733383, -17.618816199), align=None)
        Polygon((11.788733383, -16.618816199), (11.788733383, -15.818816199), (16.925383116, -15.818816199), (16.925383116, -17.618816199), (11.788733383, -17.618816199), align=None)
    extrude(amount=EXTRUDE_4_DEPTH)

    # 草图25 → 切除-拉伸18 (cut)
    with BuildSketch(Plane(origin=(0, 6.7, 0), x_dir=(1, 0, 0), z_dir=(0, 1, 0))):
        with Locations(Location((30.305781897, -12.631511144, 0), (0, 0, 270))):
            Circle(SKETCH_25_R)
        with Locations(Location((-16.694314623, 39.168592996, 0), (0, 0, 270))):
            Circle(SKETCH_25_R)
        with Locations(Location((-16.694314623, -12.631511144, 0), (0, 0, 270))):
            Circle(SKETCH_25_R)
        with Locations(Location((30.305781897, 39.168592996, 0), (0, 0, 270))):
            Circle(SKETCH_25_R)
    extrude(amount=-CUT_EXTRUDE_18_DEPTH, mode=Mode.SUBTRACT)

    # 草图26 → 切除-拉伸19 (cut, up to next)
    with BuildSketch(Plane.ZY.offset(21.681619678), mode=Mode.PRIVATE) as cut_extrude_19_sk1:
        with Locations((-12.976541942, 5.7)):
            Rectangle(SKETCH_26_W, SKETCH_26_H)
    cut_extrude_19_tool1 = extrude(cut_extrude_19_sk1.sketch, amount=-CUT_EXTRUDE_19_REACH, mode=Mode.PRIVATE) & part.part
    add(cut_extrude_19_tool1.solids().sort_by_distance((-21.68162, 5.7, -12.976542))[0], mode=Mode.SUBTRACT)


solid = part.part
